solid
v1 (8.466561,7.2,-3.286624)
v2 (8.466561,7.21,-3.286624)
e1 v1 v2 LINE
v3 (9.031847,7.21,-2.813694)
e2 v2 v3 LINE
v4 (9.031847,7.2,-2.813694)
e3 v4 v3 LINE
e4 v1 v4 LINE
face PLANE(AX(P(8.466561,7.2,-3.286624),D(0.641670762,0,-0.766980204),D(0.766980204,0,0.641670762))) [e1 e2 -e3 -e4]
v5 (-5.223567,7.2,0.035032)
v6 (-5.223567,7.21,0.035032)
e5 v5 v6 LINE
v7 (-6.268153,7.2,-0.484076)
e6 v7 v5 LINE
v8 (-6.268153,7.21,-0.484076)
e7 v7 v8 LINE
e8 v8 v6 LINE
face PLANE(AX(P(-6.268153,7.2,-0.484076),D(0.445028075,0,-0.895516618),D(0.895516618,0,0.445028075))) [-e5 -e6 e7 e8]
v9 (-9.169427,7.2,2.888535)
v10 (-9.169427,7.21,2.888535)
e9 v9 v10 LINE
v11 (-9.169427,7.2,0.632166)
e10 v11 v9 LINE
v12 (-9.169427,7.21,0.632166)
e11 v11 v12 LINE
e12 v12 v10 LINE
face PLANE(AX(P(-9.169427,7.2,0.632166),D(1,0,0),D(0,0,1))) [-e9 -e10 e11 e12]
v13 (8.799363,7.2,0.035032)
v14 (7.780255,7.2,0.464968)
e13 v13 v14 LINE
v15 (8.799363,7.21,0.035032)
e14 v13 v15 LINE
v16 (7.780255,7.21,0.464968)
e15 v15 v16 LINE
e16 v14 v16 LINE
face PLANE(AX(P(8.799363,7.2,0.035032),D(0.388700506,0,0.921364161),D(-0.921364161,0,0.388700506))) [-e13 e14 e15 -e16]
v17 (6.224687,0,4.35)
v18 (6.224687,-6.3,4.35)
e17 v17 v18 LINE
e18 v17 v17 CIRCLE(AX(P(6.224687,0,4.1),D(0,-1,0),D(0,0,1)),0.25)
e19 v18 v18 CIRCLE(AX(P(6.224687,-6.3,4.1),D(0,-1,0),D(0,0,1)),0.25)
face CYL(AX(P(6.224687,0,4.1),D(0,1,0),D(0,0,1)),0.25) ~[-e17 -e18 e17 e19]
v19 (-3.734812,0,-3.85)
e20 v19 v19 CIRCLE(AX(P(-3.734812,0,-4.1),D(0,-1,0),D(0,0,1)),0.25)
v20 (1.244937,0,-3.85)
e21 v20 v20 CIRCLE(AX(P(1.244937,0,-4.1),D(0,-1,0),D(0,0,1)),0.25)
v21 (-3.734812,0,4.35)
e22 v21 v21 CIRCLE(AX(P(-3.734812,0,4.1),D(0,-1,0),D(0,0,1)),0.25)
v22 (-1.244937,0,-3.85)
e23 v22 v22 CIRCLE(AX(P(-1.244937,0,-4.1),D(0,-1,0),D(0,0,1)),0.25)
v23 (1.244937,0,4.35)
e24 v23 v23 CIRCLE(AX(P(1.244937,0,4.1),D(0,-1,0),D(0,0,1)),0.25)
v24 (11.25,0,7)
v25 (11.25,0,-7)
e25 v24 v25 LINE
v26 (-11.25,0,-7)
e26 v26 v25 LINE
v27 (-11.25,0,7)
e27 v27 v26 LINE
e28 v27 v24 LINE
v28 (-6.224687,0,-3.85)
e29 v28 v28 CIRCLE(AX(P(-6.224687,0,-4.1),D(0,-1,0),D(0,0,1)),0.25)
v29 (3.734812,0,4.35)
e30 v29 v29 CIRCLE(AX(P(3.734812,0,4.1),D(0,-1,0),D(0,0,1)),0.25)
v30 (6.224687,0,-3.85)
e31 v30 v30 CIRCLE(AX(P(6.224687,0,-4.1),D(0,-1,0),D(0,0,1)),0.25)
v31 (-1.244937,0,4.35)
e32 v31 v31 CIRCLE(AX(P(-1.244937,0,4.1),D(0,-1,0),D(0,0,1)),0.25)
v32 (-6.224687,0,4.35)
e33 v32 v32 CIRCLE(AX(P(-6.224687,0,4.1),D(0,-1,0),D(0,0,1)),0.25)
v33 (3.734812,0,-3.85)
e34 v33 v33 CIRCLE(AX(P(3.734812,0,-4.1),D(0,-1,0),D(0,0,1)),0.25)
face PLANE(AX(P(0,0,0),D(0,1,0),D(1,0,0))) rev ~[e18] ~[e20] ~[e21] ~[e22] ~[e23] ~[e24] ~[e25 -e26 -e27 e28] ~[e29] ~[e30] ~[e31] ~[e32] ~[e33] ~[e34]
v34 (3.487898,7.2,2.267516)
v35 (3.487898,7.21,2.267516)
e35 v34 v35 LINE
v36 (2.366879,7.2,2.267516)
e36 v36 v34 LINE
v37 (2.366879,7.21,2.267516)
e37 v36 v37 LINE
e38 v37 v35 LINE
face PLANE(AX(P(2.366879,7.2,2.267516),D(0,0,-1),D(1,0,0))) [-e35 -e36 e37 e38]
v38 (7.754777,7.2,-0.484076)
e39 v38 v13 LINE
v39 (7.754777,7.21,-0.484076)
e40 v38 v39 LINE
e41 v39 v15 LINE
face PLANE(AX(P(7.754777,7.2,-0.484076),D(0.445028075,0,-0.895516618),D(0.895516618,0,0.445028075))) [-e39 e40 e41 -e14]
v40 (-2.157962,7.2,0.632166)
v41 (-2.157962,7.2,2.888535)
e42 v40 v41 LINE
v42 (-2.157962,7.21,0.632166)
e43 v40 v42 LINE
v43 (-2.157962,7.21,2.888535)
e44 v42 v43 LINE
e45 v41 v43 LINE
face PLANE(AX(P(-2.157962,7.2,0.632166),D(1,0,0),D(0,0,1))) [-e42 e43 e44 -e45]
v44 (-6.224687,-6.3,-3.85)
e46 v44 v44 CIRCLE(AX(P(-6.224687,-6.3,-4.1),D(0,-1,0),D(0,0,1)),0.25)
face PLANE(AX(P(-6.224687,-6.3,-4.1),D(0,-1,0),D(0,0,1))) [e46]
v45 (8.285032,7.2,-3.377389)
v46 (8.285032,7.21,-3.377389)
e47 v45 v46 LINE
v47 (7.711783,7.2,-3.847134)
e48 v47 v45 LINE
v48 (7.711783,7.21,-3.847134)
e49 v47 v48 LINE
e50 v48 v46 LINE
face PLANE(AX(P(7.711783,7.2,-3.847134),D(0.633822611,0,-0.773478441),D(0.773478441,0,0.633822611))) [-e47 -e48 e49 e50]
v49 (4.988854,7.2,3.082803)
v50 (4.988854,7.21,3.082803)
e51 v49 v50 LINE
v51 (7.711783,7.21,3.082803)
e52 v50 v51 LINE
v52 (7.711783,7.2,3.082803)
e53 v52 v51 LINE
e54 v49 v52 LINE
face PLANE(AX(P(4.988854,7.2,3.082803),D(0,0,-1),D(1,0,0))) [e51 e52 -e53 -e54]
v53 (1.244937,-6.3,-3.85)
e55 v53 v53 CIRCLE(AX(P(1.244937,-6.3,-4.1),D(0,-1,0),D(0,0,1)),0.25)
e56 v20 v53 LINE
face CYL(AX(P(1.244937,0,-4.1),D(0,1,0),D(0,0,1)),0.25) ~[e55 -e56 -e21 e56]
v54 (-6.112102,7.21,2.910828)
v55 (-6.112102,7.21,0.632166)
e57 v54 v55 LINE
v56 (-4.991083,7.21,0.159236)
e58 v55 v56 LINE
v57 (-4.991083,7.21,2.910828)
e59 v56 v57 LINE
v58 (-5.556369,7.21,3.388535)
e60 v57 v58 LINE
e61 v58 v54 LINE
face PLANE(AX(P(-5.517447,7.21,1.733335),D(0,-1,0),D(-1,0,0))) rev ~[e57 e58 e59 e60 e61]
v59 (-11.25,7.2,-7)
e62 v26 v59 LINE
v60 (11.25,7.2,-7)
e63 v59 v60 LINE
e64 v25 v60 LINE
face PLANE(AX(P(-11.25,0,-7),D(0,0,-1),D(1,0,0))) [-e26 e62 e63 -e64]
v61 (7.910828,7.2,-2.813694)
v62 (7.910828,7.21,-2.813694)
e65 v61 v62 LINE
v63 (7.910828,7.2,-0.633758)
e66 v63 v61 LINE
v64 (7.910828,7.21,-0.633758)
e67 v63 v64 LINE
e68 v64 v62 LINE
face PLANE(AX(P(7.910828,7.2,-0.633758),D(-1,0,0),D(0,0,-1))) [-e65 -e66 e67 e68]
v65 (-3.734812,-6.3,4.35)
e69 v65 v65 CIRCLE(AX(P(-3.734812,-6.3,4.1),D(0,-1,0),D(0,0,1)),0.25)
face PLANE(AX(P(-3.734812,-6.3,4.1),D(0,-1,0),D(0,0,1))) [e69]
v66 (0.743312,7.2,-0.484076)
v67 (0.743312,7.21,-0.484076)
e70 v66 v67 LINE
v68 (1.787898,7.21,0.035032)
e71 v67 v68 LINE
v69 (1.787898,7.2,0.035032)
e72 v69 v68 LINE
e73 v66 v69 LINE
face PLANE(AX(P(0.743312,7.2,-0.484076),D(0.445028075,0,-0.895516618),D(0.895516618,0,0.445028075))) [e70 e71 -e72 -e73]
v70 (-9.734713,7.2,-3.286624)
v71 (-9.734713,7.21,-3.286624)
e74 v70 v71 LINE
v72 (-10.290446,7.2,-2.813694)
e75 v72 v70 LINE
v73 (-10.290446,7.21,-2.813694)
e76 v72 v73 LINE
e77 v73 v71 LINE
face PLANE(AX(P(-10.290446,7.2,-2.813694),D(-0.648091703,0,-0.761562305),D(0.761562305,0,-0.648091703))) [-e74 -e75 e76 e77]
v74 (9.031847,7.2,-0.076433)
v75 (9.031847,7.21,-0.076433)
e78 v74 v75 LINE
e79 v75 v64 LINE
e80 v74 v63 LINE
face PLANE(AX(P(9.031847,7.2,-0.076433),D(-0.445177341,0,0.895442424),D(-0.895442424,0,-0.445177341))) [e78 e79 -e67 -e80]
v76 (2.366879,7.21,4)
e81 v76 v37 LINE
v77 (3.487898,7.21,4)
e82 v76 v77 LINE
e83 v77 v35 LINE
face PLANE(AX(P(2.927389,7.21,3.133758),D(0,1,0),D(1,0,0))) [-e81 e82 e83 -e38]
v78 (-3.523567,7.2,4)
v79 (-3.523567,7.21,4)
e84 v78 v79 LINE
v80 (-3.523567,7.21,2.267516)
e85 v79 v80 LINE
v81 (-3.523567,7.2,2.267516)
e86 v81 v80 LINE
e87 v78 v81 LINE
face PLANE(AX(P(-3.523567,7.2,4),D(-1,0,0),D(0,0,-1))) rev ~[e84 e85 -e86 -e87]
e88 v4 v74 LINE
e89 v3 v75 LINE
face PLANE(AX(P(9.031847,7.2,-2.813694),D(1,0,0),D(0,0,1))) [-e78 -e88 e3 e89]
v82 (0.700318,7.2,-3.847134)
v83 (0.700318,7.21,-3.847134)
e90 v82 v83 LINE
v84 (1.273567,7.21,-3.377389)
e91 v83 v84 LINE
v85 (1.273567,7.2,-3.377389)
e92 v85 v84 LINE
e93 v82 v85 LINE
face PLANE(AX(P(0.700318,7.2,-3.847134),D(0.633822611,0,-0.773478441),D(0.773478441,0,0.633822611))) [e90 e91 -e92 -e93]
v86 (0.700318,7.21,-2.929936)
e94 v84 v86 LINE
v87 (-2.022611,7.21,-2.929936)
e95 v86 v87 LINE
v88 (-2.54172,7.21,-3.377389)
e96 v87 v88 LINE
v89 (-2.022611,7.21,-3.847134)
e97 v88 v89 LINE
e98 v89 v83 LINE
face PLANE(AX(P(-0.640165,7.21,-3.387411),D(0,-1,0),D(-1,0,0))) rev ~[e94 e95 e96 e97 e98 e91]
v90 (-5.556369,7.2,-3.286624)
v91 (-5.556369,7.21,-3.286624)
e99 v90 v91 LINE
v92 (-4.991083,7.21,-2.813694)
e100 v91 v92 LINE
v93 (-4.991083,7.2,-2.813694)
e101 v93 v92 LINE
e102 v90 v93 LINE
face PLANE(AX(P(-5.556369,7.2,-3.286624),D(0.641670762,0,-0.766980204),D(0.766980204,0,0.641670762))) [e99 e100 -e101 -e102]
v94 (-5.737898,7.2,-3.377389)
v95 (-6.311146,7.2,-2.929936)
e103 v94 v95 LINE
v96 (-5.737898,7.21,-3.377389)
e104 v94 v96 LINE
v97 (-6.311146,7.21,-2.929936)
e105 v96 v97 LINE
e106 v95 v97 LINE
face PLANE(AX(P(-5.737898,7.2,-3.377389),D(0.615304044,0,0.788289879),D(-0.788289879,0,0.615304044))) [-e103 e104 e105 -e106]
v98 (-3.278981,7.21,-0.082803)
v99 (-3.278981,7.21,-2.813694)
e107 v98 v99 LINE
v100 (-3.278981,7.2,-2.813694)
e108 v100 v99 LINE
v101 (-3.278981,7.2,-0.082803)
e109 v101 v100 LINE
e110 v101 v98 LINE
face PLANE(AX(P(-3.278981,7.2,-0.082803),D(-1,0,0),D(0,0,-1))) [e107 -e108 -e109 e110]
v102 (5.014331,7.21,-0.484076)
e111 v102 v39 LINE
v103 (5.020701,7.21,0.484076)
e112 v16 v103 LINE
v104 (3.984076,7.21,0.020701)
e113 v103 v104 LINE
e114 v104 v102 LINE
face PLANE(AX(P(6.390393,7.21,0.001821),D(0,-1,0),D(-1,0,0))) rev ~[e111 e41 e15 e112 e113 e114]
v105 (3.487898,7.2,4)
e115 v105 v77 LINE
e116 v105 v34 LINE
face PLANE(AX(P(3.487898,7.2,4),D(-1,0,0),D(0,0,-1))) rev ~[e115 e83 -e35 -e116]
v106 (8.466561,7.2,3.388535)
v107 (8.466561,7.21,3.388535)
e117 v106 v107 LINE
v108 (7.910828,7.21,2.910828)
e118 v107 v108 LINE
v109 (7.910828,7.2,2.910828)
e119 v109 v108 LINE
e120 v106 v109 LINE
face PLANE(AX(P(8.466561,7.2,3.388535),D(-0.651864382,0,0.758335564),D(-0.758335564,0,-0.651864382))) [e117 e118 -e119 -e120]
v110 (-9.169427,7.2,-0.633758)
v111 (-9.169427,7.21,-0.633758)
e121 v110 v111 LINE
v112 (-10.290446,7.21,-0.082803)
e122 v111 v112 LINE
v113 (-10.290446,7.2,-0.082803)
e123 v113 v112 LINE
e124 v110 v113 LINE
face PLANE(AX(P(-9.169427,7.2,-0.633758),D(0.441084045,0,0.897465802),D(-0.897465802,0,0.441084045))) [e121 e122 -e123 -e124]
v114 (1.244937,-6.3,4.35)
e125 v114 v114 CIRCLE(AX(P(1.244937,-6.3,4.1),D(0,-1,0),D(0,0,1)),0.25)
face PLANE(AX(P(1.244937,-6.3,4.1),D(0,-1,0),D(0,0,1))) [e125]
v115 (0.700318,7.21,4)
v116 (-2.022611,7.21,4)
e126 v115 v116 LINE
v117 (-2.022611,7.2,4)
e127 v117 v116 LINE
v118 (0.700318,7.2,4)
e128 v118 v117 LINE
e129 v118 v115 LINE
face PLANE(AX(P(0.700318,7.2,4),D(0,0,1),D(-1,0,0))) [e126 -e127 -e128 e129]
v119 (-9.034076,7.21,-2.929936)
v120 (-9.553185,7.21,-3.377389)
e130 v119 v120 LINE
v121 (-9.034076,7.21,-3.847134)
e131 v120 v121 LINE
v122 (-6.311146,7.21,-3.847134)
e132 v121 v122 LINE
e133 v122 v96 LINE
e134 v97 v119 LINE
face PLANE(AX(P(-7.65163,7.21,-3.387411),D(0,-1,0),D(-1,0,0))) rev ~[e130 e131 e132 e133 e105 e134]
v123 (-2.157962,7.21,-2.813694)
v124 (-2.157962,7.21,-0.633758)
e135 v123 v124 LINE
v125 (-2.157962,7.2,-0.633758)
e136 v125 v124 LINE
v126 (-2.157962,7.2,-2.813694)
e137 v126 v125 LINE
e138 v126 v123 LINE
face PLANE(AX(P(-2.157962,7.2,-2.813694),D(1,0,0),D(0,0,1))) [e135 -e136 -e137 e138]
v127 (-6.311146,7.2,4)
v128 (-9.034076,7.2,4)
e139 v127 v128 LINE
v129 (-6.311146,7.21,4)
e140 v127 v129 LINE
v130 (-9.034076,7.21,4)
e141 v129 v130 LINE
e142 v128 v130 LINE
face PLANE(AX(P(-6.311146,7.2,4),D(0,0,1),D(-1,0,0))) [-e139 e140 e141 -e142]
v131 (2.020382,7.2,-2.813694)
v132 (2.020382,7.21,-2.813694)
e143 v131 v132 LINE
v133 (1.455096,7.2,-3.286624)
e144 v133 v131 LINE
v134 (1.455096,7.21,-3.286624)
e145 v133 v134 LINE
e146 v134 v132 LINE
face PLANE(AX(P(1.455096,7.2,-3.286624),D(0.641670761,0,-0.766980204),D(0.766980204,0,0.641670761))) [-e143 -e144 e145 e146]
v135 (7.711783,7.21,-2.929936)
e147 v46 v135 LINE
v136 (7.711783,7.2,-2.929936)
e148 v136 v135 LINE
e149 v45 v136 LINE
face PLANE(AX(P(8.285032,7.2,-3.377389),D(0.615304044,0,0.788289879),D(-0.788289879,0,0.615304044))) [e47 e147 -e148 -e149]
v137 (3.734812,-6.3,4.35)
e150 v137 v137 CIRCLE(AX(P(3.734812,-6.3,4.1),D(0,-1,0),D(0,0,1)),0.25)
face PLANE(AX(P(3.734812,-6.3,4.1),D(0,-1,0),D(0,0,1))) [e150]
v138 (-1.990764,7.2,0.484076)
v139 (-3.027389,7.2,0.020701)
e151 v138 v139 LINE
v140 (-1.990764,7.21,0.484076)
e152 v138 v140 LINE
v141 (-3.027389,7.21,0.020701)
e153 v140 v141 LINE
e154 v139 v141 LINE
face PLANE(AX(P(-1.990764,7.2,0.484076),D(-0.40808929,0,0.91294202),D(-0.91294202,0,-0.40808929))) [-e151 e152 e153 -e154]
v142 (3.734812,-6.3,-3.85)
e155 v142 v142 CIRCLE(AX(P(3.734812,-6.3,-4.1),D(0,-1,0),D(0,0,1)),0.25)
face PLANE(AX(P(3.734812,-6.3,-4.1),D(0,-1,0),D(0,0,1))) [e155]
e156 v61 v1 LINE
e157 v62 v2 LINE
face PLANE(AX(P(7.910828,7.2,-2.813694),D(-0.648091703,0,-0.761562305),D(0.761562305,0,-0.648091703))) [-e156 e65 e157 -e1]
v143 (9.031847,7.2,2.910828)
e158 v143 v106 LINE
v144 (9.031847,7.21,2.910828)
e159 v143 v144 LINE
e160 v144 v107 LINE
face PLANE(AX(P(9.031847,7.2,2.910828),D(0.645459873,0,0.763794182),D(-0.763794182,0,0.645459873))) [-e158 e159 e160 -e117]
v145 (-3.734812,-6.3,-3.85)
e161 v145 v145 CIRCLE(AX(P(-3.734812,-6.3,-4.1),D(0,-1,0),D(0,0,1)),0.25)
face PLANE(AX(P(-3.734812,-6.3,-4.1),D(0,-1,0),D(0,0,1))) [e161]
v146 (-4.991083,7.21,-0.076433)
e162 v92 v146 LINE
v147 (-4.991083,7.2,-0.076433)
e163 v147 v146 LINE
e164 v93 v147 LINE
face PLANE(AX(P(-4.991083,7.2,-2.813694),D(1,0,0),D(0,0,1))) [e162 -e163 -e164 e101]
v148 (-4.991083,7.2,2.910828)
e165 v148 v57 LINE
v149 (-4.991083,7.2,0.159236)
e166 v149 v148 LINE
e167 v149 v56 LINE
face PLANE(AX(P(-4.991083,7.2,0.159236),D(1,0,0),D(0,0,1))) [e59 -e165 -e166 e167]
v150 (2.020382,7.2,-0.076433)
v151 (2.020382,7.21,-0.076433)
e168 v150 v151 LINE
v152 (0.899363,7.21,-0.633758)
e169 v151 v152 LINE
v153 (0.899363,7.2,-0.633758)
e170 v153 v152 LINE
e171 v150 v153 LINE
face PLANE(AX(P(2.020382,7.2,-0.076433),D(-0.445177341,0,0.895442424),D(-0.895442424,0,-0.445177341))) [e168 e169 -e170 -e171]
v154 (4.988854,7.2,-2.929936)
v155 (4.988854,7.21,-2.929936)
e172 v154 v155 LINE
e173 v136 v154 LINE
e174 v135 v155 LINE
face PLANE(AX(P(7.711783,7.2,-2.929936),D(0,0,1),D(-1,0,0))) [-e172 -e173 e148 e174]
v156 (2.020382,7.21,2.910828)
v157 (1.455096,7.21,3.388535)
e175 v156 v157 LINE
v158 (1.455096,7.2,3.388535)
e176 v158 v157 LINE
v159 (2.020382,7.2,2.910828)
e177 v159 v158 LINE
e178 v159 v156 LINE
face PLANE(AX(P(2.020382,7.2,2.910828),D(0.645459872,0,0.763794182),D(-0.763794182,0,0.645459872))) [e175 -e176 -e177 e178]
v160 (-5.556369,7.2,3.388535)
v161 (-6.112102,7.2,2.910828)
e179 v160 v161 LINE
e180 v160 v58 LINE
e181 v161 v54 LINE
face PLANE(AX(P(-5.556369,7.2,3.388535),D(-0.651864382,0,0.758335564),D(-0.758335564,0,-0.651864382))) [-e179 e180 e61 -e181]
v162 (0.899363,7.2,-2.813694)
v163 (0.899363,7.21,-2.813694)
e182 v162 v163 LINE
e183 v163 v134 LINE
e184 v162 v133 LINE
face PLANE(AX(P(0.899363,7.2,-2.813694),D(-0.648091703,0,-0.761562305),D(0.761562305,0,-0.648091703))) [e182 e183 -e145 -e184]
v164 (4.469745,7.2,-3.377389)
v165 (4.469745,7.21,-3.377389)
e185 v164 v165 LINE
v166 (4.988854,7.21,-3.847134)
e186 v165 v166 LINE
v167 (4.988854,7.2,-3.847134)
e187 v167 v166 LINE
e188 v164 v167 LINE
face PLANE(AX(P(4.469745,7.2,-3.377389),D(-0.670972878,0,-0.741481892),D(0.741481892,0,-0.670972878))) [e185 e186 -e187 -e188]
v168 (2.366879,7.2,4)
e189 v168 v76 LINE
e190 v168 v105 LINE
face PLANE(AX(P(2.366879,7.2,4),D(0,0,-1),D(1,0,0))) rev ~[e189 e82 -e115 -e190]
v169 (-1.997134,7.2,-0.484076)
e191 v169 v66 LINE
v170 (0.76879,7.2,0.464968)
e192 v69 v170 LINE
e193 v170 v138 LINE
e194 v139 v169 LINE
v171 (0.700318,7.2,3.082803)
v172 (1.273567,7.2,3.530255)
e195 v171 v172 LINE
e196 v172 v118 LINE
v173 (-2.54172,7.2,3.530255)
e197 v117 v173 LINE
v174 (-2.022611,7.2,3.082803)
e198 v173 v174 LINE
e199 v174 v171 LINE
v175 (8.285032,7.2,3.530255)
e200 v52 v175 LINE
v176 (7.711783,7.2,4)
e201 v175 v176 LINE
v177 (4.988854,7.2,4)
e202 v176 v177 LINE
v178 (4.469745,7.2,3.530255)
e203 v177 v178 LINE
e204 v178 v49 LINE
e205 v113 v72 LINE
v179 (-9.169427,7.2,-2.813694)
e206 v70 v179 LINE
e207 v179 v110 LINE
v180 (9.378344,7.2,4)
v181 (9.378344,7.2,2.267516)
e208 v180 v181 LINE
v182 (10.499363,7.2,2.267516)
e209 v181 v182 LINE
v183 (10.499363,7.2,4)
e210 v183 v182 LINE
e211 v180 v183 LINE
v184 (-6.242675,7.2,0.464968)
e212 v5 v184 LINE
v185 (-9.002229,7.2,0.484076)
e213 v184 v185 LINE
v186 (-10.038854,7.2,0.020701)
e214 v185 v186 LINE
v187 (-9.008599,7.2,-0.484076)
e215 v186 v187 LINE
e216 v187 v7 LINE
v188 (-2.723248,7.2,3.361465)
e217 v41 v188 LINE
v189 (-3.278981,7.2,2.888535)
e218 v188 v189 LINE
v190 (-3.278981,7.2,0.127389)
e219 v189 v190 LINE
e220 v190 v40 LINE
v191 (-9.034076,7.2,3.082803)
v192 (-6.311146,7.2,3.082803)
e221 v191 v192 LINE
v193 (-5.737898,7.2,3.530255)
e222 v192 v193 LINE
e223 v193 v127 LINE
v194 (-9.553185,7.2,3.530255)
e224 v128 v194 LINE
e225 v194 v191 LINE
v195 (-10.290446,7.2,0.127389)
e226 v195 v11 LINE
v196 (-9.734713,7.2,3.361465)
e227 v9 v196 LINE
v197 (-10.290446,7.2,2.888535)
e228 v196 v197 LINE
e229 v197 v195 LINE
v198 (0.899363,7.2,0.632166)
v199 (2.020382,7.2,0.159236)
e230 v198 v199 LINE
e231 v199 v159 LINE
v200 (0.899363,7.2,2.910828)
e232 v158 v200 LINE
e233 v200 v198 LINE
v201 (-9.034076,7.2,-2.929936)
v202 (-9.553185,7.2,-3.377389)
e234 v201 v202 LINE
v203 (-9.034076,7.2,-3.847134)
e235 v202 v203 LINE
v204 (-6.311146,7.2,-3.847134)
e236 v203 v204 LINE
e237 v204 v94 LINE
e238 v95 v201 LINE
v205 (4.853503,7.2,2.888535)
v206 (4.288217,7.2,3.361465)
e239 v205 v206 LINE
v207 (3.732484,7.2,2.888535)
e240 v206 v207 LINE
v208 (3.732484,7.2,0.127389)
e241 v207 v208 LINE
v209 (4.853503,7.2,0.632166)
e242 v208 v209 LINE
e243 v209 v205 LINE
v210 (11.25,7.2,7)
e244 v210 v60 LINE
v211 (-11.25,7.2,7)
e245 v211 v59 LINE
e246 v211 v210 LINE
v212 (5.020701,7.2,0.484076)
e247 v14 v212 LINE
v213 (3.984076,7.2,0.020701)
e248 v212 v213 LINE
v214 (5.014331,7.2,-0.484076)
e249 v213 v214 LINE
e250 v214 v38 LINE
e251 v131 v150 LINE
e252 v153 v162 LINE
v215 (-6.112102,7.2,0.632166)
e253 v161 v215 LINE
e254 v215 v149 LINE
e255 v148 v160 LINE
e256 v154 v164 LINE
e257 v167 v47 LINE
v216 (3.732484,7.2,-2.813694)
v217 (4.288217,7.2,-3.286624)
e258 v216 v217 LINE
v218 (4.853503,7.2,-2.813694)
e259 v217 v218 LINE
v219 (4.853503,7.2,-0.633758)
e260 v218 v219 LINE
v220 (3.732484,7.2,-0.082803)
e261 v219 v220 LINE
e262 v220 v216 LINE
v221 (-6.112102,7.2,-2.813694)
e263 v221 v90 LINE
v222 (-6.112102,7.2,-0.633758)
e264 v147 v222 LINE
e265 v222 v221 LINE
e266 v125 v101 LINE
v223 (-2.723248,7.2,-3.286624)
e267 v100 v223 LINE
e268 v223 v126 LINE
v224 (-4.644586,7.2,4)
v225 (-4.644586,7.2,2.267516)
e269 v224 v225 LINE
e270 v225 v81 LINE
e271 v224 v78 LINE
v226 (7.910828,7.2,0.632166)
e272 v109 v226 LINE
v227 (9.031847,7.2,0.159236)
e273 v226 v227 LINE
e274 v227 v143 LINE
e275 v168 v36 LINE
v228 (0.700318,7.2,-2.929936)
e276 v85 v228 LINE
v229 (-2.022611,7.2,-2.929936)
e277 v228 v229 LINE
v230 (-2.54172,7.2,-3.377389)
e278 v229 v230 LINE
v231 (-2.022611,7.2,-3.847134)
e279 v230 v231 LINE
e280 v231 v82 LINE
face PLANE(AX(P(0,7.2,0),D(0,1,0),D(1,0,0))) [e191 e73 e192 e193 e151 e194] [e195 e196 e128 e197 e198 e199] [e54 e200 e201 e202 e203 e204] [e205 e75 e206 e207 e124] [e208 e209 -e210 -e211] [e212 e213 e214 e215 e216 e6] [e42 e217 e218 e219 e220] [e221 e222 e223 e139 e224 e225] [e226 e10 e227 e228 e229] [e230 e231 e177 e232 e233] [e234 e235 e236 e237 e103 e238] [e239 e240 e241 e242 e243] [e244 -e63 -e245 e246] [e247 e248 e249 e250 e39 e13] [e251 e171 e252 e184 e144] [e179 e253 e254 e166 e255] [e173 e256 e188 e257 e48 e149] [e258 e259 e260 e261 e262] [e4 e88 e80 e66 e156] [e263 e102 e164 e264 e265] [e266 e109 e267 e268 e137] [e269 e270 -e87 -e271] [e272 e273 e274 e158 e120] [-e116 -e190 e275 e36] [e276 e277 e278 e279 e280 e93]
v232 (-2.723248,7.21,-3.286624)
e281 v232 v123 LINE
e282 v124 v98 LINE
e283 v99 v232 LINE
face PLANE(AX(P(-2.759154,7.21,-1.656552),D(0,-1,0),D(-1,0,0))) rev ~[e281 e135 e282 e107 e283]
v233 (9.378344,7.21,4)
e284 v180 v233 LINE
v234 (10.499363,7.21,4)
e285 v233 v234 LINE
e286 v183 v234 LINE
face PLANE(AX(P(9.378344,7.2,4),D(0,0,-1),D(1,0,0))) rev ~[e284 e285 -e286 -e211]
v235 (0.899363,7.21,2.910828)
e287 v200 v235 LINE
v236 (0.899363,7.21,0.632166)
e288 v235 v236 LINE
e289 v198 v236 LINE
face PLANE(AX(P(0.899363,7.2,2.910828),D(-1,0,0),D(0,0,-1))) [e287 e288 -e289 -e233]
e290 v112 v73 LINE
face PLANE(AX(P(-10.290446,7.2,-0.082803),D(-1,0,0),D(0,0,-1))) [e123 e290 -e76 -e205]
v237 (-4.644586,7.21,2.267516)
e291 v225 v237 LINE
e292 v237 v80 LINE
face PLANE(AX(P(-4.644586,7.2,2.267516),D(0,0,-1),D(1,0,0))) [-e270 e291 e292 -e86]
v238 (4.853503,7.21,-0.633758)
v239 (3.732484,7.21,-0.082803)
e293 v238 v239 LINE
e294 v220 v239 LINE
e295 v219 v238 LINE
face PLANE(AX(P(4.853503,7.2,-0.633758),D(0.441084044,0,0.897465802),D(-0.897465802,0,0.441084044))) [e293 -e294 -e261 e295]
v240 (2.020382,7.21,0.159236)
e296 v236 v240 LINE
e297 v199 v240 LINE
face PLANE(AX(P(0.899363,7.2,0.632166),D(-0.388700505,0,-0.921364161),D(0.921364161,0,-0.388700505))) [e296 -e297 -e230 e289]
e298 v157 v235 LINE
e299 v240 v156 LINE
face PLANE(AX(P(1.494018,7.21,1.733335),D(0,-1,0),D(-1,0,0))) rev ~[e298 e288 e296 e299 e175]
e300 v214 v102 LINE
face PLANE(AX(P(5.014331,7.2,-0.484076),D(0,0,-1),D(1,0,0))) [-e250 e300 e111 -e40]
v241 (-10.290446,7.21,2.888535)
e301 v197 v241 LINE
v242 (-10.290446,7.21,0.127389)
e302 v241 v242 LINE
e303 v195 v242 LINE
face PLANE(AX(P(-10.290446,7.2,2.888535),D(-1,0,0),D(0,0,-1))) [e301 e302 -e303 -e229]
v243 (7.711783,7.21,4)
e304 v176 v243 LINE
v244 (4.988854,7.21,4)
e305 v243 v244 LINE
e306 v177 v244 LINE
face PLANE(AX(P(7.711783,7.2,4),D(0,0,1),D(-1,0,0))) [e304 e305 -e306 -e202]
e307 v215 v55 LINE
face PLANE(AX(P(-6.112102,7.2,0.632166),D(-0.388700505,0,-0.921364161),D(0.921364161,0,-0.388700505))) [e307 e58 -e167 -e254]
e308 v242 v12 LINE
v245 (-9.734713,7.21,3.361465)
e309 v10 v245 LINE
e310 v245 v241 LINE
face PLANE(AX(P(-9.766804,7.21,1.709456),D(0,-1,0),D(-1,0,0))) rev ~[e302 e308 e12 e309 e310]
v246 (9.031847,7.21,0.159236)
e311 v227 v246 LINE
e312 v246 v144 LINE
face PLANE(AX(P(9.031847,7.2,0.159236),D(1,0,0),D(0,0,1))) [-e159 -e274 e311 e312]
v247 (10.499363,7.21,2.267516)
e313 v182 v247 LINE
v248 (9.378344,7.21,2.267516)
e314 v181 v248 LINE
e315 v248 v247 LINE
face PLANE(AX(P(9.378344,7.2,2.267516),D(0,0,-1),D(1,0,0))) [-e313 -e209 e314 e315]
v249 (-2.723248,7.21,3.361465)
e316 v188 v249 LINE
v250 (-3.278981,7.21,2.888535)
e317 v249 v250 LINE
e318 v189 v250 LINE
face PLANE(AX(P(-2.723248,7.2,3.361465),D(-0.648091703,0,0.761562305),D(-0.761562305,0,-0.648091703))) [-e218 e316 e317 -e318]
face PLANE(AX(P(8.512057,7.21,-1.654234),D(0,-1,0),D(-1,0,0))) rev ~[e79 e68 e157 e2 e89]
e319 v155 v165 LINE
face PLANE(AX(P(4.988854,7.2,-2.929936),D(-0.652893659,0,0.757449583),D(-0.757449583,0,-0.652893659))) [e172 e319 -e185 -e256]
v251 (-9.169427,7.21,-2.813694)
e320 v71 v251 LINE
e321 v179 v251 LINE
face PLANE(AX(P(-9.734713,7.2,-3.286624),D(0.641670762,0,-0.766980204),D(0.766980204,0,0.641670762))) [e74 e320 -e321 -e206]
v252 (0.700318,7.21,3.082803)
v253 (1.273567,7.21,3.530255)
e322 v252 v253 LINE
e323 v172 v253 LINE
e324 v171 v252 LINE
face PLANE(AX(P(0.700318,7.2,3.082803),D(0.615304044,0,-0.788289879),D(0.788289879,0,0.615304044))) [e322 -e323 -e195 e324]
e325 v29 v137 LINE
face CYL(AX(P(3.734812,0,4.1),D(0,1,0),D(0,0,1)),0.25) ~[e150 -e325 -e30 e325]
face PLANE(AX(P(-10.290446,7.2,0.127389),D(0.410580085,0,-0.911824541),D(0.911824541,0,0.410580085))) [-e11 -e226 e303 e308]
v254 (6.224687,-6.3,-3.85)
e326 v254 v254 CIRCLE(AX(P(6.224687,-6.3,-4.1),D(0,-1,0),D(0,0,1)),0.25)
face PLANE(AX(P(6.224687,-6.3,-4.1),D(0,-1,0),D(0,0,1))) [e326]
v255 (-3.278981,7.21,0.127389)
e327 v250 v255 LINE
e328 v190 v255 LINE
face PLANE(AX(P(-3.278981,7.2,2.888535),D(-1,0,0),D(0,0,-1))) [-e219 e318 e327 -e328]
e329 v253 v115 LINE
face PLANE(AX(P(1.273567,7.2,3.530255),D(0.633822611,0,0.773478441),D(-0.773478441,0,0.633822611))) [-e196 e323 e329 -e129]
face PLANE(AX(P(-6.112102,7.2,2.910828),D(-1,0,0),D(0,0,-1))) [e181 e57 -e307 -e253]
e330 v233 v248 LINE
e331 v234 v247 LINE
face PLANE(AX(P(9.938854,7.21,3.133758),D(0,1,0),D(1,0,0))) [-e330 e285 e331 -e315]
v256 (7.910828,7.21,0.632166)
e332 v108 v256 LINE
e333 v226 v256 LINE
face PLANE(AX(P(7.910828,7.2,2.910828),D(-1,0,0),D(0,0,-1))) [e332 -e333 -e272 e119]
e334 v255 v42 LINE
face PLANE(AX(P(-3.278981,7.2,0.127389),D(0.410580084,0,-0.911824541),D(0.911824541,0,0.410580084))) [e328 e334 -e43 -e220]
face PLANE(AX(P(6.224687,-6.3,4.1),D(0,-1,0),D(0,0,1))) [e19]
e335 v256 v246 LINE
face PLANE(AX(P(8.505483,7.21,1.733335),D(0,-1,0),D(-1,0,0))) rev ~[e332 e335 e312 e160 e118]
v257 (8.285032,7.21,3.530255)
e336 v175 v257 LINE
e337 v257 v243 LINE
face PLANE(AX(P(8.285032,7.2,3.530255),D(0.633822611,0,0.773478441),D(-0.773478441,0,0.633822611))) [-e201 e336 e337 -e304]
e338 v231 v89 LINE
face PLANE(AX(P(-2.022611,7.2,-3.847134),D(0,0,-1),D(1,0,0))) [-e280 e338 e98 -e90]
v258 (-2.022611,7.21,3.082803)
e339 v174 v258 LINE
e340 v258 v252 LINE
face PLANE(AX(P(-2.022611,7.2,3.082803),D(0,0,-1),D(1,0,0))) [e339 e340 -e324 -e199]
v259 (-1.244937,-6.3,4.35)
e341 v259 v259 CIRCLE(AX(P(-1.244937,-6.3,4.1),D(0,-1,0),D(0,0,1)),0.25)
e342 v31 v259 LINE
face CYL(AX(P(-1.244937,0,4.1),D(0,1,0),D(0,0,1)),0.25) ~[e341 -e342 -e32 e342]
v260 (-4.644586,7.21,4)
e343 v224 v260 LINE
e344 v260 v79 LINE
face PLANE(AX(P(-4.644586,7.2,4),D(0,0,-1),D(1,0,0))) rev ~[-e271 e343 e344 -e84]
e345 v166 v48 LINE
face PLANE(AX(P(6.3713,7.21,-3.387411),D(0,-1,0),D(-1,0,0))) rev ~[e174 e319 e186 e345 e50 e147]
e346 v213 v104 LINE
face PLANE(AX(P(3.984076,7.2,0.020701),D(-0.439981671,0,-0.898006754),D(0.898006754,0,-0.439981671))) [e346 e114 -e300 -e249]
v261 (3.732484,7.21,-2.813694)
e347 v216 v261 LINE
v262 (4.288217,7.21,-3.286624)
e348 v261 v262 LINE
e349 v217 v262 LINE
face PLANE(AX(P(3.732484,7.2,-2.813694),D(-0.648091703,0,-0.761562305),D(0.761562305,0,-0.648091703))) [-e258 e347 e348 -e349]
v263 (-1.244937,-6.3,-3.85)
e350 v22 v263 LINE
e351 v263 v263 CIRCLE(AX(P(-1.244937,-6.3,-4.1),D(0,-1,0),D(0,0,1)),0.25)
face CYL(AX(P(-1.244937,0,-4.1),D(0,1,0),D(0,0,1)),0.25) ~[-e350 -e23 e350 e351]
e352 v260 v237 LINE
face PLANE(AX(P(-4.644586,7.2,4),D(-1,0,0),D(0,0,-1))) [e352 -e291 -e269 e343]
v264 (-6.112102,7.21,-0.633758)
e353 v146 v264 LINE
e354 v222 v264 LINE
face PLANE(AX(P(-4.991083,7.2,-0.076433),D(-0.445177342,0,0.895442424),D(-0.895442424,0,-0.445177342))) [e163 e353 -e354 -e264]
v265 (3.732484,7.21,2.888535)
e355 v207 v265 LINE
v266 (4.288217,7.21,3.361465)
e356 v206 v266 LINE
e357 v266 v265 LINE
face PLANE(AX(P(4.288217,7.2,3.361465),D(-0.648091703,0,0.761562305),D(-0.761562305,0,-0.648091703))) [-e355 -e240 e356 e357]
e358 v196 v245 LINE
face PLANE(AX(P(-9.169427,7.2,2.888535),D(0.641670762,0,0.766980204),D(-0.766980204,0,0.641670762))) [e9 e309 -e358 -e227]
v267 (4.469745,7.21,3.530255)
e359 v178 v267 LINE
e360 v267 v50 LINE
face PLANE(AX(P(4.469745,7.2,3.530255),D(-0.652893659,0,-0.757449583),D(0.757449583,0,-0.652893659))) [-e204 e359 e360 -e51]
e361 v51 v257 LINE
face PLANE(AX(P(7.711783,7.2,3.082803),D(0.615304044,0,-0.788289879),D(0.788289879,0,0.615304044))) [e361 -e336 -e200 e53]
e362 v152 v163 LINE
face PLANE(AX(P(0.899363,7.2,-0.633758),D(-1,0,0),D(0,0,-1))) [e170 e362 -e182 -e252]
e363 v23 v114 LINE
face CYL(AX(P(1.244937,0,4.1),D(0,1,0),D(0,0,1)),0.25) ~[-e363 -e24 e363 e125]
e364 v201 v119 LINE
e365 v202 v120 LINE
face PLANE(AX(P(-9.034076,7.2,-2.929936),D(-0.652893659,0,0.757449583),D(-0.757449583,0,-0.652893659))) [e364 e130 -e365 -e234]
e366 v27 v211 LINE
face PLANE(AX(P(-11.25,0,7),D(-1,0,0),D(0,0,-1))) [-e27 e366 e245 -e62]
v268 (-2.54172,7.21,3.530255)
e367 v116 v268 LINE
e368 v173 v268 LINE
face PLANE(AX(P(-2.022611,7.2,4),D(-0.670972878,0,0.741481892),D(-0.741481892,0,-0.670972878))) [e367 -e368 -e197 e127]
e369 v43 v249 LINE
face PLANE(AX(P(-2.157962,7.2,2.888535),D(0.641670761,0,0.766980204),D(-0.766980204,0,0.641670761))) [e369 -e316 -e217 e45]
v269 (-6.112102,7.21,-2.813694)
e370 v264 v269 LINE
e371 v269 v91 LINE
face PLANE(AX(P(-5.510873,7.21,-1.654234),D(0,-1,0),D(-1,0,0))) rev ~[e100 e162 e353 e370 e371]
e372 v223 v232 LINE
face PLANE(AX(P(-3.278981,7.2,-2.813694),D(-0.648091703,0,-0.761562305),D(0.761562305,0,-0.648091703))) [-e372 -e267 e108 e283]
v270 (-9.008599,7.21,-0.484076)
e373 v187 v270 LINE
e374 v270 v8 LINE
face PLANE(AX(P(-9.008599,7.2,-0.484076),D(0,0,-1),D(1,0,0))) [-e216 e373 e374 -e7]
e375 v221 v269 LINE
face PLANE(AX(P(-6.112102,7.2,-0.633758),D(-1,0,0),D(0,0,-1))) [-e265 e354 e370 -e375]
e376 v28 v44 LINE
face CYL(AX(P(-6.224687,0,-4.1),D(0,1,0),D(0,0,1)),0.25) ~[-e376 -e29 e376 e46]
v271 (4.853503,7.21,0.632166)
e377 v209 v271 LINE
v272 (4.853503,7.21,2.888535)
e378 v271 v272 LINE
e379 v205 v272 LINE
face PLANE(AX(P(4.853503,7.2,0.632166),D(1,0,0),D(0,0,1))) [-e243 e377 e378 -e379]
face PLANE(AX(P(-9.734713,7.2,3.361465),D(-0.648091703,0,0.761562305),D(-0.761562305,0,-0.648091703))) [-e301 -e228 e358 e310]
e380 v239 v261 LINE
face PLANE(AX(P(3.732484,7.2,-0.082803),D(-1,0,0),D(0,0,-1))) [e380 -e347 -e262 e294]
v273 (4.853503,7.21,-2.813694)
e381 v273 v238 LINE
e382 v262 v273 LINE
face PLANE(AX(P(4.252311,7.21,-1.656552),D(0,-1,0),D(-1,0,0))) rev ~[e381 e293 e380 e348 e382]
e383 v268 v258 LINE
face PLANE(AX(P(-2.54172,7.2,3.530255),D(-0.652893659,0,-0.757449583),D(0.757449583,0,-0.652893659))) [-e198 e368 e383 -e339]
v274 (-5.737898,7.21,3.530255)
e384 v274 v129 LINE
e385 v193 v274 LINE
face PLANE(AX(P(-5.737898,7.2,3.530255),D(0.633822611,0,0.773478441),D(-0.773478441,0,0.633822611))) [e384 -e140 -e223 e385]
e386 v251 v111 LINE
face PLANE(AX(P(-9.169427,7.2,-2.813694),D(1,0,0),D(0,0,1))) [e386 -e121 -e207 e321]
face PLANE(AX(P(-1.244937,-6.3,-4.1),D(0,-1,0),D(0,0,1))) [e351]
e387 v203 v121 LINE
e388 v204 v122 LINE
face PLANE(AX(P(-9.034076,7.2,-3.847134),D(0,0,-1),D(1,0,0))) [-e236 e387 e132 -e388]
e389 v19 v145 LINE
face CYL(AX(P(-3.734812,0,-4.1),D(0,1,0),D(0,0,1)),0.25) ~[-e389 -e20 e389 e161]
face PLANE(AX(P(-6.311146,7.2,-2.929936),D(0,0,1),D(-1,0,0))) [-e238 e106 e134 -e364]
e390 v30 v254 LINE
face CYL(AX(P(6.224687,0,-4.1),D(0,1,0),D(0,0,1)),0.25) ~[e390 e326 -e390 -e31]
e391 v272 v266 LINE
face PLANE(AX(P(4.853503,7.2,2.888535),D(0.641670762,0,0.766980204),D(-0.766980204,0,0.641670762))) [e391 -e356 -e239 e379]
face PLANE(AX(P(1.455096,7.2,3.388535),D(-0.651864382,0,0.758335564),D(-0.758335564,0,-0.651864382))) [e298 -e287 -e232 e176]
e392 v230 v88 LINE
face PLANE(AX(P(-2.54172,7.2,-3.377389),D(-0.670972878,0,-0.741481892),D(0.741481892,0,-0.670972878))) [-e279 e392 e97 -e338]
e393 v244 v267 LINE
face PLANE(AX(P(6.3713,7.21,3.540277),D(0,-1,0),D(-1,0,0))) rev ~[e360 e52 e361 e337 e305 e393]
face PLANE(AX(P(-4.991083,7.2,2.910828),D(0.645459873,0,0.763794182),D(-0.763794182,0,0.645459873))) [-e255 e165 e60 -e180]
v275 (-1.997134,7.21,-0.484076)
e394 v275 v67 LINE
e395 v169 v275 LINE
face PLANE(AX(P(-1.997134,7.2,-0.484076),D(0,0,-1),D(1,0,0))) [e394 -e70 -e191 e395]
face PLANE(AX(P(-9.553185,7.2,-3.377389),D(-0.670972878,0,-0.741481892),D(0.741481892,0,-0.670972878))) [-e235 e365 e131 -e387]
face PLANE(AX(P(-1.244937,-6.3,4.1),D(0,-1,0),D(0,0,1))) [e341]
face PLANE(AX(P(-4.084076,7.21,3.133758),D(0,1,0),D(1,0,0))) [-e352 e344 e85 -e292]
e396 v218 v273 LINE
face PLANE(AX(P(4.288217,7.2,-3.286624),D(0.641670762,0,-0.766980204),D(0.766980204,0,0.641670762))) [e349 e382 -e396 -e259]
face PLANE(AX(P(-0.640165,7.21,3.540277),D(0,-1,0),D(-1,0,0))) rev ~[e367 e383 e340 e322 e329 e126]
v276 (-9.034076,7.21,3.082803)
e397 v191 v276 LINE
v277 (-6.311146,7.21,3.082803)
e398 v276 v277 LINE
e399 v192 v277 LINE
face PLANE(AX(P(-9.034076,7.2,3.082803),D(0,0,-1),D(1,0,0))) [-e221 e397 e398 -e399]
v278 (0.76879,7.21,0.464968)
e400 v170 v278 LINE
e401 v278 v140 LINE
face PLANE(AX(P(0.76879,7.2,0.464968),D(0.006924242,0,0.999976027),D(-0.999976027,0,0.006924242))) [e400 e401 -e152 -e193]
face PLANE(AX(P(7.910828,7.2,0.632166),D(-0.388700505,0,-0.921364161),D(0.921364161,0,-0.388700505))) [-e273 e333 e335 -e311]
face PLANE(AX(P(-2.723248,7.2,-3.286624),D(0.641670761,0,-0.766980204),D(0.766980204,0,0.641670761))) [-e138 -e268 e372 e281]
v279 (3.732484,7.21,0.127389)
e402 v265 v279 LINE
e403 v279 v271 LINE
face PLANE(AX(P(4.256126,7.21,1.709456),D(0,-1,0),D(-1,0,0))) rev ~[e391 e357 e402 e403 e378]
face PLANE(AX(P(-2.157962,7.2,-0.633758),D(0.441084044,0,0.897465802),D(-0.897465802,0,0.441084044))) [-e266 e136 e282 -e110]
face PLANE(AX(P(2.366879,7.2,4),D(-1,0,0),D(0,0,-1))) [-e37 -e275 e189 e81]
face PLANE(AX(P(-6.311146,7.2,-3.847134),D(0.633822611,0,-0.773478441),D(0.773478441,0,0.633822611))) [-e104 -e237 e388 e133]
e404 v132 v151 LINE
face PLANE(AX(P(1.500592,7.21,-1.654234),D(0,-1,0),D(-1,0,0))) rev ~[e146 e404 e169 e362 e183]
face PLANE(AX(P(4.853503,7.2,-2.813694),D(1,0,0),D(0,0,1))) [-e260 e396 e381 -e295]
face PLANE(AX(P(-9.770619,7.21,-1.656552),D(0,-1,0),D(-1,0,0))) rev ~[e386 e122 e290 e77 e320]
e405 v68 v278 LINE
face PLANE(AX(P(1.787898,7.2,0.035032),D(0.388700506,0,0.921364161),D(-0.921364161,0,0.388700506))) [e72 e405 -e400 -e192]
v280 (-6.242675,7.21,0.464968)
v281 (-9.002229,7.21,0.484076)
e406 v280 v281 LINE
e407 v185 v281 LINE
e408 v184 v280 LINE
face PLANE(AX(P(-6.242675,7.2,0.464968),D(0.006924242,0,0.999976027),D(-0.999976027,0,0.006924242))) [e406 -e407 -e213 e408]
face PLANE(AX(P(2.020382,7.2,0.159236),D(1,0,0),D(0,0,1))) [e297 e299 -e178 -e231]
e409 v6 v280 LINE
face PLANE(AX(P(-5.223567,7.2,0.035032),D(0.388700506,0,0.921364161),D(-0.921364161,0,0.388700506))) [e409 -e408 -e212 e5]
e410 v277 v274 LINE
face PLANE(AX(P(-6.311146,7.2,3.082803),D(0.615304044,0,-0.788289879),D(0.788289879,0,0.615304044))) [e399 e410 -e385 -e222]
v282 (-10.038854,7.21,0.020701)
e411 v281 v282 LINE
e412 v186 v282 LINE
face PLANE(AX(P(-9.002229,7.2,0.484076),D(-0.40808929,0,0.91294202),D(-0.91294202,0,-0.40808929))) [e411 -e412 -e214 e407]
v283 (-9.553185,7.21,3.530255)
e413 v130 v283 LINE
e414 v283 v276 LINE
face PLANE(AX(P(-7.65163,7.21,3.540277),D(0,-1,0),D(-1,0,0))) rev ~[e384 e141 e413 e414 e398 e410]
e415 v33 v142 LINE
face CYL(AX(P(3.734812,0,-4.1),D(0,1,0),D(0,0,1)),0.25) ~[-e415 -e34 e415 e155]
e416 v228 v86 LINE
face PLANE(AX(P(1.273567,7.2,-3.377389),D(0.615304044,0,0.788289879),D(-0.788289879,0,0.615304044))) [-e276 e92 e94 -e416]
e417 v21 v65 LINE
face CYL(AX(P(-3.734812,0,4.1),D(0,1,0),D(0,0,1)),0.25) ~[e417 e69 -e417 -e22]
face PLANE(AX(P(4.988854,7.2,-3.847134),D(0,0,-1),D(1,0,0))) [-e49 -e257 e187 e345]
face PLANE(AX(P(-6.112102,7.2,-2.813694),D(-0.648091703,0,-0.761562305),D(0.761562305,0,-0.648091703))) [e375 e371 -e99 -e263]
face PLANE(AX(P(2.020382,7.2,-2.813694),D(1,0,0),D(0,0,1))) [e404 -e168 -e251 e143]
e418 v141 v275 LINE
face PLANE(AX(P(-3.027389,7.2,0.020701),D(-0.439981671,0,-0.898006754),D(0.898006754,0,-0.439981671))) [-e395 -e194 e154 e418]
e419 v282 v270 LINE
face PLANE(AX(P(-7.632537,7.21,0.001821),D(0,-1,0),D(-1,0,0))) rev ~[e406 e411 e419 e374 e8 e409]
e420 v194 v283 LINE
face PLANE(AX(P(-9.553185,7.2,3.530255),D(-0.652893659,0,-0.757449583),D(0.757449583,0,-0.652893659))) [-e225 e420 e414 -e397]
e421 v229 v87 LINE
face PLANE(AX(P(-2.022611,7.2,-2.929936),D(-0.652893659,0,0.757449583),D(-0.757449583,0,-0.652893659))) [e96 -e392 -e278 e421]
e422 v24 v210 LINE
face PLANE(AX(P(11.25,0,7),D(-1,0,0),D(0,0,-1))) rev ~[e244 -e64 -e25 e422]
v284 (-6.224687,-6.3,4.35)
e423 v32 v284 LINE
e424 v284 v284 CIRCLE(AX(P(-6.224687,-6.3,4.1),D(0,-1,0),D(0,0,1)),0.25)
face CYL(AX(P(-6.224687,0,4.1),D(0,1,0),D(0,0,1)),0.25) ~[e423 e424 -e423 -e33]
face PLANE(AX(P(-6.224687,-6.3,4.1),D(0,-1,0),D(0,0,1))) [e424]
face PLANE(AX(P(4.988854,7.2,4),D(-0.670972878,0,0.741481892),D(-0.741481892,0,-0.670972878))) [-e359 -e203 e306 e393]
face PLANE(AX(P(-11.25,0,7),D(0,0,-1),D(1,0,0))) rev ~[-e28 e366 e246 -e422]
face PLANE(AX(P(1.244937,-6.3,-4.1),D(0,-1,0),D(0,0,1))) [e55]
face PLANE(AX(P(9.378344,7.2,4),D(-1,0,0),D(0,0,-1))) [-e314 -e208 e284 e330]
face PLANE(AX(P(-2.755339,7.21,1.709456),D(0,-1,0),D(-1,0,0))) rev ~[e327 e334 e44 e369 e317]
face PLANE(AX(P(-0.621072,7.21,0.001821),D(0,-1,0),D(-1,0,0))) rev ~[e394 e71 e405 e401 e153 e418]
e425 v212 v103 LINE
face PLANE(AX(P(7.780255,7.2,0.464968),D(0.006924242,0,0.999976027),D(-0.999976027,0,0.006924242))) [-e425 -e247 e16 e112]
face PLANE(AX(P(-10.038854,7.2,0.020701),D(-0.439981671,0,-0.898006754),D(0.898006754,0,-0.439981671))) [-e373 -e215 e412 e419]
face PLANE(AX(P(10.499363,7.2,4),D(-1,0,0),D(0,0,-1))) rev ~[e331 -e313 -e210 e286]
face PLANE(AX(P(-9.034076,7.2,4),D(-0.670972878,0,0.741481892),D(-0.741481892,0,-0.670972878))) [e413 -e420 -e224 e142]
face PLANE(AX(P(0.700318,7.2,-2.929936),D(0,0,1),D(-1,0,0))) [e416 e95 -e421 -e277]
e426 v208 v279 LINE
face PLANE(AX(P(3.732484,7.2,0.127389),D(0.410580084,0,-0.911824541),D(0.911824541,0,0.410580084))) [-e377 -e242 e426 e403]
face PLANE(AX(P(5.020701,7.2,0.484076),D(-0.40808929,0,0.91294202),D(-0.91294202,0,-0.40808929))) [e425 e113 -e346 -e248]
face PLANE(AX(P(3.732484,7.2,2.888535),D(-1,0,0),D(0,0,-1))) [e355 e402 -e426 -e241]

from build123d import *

# Parameters (mm, degrees)
SKETCH_1_W        = 22.5
SKETCH_1_H        = 14
EXTRUDE_1_DEPTH   = 7.2
SKETCH_2_R        = 0.25
EXTRUDE_2_DEPTH   = 6.3
SKETCH_3_W        = 1.121019108
SKETCH_3_H        = 1.732484076
EXTRUDE_1_2_DEPTH = 0.01


with BuildPart() as part:
    # 草图1 → Extrude 1 (new body)
    with BuildSketch(Plane(origin=(0, 0, 0), x_dir=(1, 0, 0), z_dir=(0, 1, 0))):
        Rectangle(SKETCH_1_W, SKETCH_1_H)
    extrude(amount=EXTRUDE_1_DEPTH)

    # 草图2 → 拉伸2 (add)
    with BuildSketch(Plane.XZ):
        with Locations(Location((6.224686657, 4.1, 0), (0, 0, 90))):
            Circle(SKETCH_2_R)
        with Locations(Location((3.734811994, 4.1, 0), (0, 0, 90))):
            Circle(SKETCH_2_R)
        with Locations(Location((1.244937331, 4.1, 0), (0, 0, 90))):
            Circle(SKETCH_2_R)
        with Locations(Location((-1.244937331, 4.1, 0), (0, 0, 90))):
            Circle(SKETCH_2_R)
        with Locations(Location((-3.734811994, 4.1, 0), (0, 0, 90))):
            Circle(SKETCH_2_R)
        with Locations(Location((-6.224686657, 4.1, 0), (0, 0, 90))):
            Circle(SKETCH_2_R)
        with Locations(Location((-6.224686657, -4.1, 0), (0, 0, 90))):
            Circle(SKETCH_2_R)
        with Locations(Location((-3.734811994, -4.1, 0), (0, 0, 90))):
            Circle(SKETCH_2_R)
        with Locations(Location((-1.244937331, -4.1, 0), (0, 0, 90))):
            Circle(SKETCH_2_R)
        with Locations(Location((1.244937331, -4.1, 0), (0, 0, 90))):
            Circle(SKETCH_2_R)
        with Locations(Location((3.734811994, -4.1, 0), (0, 0, 90))):
            Circle(SKETCH_2_R)
        with Locations(Location((6.224686657, -4.1, 0), (0, 0, 90))):
            Circle(SKETCH_2_R)
    extrude(amount=EXTRUDE_2_DEPTH)

    # 草图3 → Extrude 1 2 (add)
    with BuildSketch(Plane(origin=(0, 7.2, 0), x_dir=(1, 0, 0), z_dir=(0, 1, 0))):
        Polygon((-4.991082803, 0.076433121), (-6.112101911, 0.633757962), (-6.112101911, 2.813694268), (-5.556369427, 3.286624204), (-4.991082803, 2.813694268), align=None)
        Polygon((-5.737898089, 3.377388535), (-6.311146497, 2.929936306), (-9.034076433, 2.929936306), (-9.553184713, 3.377388535), (-9.034076433, 3.847133758), (-6.311146497, 3.847133758), align=None)
        Polygon((-4.991082803, -2.910828025), (-5.556369427, -3.388535032), (-6.112101911, -2.910828025), (-6.112101911, -0.632165605), (-4.991082803, -0.159235669), align=None)
        Polygon((-5.223566879, -0.035031847), (-6.242675159, -0.464968153), (-9.002229299, -0.484076433), (-10.038853503, -0.020700637), (-9.008598726, 0.484076433), (-6.268152866, 0.484076433), align=None)
        Polygon((-9.169426752, 0.633757962), (-10.29044586, 0.082802548), (-10.29044586, 2.813694268), (-9.734713376, 3.286624204), (-9.169426752, 2.813694268), align=None)
        Polygon((-9.169426752, -2.888535032), (-9.734713376, -3.361464968), (-10.29044586, -2.888535032), (-10.29044586, -0.127388535), (-9.169426752, -0.632165605), align=None)
        Polygon((-5.737898089, -3.530254777), (-6.311146497, -4), (-9.034076433, -4), (-9.553184713, -3.530254777), (-9.034076433, -3.082802548), (-6.311146497, -3.082802548), align=None)
        with Locations((-4.084076433, -3.133757962)):
            Rectangle(SKETCH_3_W, SKETCH_3_H)
        Polygon((2.020382166, 0.076433121), (0.899363057, 0.633757962), (0.899363057, 2.813694268), (1.455095541, 3.286624204), (2.020382166, 2.813694268), align=None)
        Polygon((1.273566879, 3.377388535), (0.700318471, 2.929936306), (-2.022611465, 2.929936306), (-2.541719745, 3.377388535), (-2.022611465, 3.847133758), (0.700318471, 3.847133758), align=None)
        Polygon((2.020382166, -2.910828025), (1.455095541, -3.388535032), (0.899363057, -2.910828025), (0.899363057, -0.632165605), (2.020382166, -0.159235669), align=None)
        Polygon((1.787898089, -0.035031847), (0.768789809, -0.464968153), (-1.990764331, -0.484076433), (-3.027388535, -0.020700637), (-1.997133758, 0.484076433), (0.743312102, 0.484076433), align=None)
        Polygon((-2.157961783, 0.633757962), (-3.278980892, 0.082802548), (-3.278980892, 2.813694268), (-2.723248408, 3.286624204), (-2.157961783, 2.813694268), align=None)
        Polygon((-2.157961783, -2.888535032), (-2.723248408, -3.361464968), (-3.278980892, -2.888535032), (-3.278980892, -0.127388535), (-2.157961783, -0.632165605), align=None)
        Polygon((1.273566879, -3.530254777), (0.700318471, -4), (-2.022611465, -4), (-2.541719745, -3.530254777), (-2.022611465, -3.082802548), (0.700318471, -3.082802548), align=None)
        with Locations((2.927388535, -3.133757962)):
            Rectangle(SKETCH_3_W, SKETCH_3_H)
        Polygon((9.031847134, 0.076433121), (7.910828025, 0.633757962), (7.910828025, 2.813694268), (8.46656051, 3.286624204), (9.031847134, 2.813694268), align=None)
        Polygon((8.285031847, 3.377388535), (7.711783439, 2.929936306), (4.988853503, 2.929936306), (4.469745223, 3.377388535), (4.988853503, 3.847133758), (7.711783439, 3.847133758), align=None)
        Polygon((9.031847134, -2.910828025), (8.46656051, -3.388535032), (7.910828025, -2.910828025), (7.910828025, -0.632165605), (9.031847134, -0.159235669), align=None)
        Polygon((8.799363057, -0.035031847), (7.780254777, -0.464968153), (5.020700637, -0.484076433), (3.984076433, -0.020700637), (5.01433121, 0.484076433), (7.75477707, 0.484076433), align=None)
        Polygon((4.853503185, 0.633757962), (3.732484076, 0.082802548), (3.732484076, 2.813694268), (4.288216561, 3.286624204), (4.853503185, 2.813694268), align=None)
        Polygon((4.853503185, -2.888535032), (4.288216561, -3.361464968), (3.732484076, -2.888535032), (3.732484076, -0.127388535), (4.853503185, -0.632165605), align=None)
        Polygon((8.285031847, -3.530254777), (7.711783439, -4), (4.988853503, -4), (4.469745223, -3.530254777), (4.988853503, -3.082802548), (7.711783439, -3.082802548), align=None)
        with Locations((9.938853503, -3.133757962)):
            Rectangle(SKETCH_3_W, SKETCH_3_H)
    extrude(amount=EXTRUDE_1_2_DEPTH)


solid = part.part
